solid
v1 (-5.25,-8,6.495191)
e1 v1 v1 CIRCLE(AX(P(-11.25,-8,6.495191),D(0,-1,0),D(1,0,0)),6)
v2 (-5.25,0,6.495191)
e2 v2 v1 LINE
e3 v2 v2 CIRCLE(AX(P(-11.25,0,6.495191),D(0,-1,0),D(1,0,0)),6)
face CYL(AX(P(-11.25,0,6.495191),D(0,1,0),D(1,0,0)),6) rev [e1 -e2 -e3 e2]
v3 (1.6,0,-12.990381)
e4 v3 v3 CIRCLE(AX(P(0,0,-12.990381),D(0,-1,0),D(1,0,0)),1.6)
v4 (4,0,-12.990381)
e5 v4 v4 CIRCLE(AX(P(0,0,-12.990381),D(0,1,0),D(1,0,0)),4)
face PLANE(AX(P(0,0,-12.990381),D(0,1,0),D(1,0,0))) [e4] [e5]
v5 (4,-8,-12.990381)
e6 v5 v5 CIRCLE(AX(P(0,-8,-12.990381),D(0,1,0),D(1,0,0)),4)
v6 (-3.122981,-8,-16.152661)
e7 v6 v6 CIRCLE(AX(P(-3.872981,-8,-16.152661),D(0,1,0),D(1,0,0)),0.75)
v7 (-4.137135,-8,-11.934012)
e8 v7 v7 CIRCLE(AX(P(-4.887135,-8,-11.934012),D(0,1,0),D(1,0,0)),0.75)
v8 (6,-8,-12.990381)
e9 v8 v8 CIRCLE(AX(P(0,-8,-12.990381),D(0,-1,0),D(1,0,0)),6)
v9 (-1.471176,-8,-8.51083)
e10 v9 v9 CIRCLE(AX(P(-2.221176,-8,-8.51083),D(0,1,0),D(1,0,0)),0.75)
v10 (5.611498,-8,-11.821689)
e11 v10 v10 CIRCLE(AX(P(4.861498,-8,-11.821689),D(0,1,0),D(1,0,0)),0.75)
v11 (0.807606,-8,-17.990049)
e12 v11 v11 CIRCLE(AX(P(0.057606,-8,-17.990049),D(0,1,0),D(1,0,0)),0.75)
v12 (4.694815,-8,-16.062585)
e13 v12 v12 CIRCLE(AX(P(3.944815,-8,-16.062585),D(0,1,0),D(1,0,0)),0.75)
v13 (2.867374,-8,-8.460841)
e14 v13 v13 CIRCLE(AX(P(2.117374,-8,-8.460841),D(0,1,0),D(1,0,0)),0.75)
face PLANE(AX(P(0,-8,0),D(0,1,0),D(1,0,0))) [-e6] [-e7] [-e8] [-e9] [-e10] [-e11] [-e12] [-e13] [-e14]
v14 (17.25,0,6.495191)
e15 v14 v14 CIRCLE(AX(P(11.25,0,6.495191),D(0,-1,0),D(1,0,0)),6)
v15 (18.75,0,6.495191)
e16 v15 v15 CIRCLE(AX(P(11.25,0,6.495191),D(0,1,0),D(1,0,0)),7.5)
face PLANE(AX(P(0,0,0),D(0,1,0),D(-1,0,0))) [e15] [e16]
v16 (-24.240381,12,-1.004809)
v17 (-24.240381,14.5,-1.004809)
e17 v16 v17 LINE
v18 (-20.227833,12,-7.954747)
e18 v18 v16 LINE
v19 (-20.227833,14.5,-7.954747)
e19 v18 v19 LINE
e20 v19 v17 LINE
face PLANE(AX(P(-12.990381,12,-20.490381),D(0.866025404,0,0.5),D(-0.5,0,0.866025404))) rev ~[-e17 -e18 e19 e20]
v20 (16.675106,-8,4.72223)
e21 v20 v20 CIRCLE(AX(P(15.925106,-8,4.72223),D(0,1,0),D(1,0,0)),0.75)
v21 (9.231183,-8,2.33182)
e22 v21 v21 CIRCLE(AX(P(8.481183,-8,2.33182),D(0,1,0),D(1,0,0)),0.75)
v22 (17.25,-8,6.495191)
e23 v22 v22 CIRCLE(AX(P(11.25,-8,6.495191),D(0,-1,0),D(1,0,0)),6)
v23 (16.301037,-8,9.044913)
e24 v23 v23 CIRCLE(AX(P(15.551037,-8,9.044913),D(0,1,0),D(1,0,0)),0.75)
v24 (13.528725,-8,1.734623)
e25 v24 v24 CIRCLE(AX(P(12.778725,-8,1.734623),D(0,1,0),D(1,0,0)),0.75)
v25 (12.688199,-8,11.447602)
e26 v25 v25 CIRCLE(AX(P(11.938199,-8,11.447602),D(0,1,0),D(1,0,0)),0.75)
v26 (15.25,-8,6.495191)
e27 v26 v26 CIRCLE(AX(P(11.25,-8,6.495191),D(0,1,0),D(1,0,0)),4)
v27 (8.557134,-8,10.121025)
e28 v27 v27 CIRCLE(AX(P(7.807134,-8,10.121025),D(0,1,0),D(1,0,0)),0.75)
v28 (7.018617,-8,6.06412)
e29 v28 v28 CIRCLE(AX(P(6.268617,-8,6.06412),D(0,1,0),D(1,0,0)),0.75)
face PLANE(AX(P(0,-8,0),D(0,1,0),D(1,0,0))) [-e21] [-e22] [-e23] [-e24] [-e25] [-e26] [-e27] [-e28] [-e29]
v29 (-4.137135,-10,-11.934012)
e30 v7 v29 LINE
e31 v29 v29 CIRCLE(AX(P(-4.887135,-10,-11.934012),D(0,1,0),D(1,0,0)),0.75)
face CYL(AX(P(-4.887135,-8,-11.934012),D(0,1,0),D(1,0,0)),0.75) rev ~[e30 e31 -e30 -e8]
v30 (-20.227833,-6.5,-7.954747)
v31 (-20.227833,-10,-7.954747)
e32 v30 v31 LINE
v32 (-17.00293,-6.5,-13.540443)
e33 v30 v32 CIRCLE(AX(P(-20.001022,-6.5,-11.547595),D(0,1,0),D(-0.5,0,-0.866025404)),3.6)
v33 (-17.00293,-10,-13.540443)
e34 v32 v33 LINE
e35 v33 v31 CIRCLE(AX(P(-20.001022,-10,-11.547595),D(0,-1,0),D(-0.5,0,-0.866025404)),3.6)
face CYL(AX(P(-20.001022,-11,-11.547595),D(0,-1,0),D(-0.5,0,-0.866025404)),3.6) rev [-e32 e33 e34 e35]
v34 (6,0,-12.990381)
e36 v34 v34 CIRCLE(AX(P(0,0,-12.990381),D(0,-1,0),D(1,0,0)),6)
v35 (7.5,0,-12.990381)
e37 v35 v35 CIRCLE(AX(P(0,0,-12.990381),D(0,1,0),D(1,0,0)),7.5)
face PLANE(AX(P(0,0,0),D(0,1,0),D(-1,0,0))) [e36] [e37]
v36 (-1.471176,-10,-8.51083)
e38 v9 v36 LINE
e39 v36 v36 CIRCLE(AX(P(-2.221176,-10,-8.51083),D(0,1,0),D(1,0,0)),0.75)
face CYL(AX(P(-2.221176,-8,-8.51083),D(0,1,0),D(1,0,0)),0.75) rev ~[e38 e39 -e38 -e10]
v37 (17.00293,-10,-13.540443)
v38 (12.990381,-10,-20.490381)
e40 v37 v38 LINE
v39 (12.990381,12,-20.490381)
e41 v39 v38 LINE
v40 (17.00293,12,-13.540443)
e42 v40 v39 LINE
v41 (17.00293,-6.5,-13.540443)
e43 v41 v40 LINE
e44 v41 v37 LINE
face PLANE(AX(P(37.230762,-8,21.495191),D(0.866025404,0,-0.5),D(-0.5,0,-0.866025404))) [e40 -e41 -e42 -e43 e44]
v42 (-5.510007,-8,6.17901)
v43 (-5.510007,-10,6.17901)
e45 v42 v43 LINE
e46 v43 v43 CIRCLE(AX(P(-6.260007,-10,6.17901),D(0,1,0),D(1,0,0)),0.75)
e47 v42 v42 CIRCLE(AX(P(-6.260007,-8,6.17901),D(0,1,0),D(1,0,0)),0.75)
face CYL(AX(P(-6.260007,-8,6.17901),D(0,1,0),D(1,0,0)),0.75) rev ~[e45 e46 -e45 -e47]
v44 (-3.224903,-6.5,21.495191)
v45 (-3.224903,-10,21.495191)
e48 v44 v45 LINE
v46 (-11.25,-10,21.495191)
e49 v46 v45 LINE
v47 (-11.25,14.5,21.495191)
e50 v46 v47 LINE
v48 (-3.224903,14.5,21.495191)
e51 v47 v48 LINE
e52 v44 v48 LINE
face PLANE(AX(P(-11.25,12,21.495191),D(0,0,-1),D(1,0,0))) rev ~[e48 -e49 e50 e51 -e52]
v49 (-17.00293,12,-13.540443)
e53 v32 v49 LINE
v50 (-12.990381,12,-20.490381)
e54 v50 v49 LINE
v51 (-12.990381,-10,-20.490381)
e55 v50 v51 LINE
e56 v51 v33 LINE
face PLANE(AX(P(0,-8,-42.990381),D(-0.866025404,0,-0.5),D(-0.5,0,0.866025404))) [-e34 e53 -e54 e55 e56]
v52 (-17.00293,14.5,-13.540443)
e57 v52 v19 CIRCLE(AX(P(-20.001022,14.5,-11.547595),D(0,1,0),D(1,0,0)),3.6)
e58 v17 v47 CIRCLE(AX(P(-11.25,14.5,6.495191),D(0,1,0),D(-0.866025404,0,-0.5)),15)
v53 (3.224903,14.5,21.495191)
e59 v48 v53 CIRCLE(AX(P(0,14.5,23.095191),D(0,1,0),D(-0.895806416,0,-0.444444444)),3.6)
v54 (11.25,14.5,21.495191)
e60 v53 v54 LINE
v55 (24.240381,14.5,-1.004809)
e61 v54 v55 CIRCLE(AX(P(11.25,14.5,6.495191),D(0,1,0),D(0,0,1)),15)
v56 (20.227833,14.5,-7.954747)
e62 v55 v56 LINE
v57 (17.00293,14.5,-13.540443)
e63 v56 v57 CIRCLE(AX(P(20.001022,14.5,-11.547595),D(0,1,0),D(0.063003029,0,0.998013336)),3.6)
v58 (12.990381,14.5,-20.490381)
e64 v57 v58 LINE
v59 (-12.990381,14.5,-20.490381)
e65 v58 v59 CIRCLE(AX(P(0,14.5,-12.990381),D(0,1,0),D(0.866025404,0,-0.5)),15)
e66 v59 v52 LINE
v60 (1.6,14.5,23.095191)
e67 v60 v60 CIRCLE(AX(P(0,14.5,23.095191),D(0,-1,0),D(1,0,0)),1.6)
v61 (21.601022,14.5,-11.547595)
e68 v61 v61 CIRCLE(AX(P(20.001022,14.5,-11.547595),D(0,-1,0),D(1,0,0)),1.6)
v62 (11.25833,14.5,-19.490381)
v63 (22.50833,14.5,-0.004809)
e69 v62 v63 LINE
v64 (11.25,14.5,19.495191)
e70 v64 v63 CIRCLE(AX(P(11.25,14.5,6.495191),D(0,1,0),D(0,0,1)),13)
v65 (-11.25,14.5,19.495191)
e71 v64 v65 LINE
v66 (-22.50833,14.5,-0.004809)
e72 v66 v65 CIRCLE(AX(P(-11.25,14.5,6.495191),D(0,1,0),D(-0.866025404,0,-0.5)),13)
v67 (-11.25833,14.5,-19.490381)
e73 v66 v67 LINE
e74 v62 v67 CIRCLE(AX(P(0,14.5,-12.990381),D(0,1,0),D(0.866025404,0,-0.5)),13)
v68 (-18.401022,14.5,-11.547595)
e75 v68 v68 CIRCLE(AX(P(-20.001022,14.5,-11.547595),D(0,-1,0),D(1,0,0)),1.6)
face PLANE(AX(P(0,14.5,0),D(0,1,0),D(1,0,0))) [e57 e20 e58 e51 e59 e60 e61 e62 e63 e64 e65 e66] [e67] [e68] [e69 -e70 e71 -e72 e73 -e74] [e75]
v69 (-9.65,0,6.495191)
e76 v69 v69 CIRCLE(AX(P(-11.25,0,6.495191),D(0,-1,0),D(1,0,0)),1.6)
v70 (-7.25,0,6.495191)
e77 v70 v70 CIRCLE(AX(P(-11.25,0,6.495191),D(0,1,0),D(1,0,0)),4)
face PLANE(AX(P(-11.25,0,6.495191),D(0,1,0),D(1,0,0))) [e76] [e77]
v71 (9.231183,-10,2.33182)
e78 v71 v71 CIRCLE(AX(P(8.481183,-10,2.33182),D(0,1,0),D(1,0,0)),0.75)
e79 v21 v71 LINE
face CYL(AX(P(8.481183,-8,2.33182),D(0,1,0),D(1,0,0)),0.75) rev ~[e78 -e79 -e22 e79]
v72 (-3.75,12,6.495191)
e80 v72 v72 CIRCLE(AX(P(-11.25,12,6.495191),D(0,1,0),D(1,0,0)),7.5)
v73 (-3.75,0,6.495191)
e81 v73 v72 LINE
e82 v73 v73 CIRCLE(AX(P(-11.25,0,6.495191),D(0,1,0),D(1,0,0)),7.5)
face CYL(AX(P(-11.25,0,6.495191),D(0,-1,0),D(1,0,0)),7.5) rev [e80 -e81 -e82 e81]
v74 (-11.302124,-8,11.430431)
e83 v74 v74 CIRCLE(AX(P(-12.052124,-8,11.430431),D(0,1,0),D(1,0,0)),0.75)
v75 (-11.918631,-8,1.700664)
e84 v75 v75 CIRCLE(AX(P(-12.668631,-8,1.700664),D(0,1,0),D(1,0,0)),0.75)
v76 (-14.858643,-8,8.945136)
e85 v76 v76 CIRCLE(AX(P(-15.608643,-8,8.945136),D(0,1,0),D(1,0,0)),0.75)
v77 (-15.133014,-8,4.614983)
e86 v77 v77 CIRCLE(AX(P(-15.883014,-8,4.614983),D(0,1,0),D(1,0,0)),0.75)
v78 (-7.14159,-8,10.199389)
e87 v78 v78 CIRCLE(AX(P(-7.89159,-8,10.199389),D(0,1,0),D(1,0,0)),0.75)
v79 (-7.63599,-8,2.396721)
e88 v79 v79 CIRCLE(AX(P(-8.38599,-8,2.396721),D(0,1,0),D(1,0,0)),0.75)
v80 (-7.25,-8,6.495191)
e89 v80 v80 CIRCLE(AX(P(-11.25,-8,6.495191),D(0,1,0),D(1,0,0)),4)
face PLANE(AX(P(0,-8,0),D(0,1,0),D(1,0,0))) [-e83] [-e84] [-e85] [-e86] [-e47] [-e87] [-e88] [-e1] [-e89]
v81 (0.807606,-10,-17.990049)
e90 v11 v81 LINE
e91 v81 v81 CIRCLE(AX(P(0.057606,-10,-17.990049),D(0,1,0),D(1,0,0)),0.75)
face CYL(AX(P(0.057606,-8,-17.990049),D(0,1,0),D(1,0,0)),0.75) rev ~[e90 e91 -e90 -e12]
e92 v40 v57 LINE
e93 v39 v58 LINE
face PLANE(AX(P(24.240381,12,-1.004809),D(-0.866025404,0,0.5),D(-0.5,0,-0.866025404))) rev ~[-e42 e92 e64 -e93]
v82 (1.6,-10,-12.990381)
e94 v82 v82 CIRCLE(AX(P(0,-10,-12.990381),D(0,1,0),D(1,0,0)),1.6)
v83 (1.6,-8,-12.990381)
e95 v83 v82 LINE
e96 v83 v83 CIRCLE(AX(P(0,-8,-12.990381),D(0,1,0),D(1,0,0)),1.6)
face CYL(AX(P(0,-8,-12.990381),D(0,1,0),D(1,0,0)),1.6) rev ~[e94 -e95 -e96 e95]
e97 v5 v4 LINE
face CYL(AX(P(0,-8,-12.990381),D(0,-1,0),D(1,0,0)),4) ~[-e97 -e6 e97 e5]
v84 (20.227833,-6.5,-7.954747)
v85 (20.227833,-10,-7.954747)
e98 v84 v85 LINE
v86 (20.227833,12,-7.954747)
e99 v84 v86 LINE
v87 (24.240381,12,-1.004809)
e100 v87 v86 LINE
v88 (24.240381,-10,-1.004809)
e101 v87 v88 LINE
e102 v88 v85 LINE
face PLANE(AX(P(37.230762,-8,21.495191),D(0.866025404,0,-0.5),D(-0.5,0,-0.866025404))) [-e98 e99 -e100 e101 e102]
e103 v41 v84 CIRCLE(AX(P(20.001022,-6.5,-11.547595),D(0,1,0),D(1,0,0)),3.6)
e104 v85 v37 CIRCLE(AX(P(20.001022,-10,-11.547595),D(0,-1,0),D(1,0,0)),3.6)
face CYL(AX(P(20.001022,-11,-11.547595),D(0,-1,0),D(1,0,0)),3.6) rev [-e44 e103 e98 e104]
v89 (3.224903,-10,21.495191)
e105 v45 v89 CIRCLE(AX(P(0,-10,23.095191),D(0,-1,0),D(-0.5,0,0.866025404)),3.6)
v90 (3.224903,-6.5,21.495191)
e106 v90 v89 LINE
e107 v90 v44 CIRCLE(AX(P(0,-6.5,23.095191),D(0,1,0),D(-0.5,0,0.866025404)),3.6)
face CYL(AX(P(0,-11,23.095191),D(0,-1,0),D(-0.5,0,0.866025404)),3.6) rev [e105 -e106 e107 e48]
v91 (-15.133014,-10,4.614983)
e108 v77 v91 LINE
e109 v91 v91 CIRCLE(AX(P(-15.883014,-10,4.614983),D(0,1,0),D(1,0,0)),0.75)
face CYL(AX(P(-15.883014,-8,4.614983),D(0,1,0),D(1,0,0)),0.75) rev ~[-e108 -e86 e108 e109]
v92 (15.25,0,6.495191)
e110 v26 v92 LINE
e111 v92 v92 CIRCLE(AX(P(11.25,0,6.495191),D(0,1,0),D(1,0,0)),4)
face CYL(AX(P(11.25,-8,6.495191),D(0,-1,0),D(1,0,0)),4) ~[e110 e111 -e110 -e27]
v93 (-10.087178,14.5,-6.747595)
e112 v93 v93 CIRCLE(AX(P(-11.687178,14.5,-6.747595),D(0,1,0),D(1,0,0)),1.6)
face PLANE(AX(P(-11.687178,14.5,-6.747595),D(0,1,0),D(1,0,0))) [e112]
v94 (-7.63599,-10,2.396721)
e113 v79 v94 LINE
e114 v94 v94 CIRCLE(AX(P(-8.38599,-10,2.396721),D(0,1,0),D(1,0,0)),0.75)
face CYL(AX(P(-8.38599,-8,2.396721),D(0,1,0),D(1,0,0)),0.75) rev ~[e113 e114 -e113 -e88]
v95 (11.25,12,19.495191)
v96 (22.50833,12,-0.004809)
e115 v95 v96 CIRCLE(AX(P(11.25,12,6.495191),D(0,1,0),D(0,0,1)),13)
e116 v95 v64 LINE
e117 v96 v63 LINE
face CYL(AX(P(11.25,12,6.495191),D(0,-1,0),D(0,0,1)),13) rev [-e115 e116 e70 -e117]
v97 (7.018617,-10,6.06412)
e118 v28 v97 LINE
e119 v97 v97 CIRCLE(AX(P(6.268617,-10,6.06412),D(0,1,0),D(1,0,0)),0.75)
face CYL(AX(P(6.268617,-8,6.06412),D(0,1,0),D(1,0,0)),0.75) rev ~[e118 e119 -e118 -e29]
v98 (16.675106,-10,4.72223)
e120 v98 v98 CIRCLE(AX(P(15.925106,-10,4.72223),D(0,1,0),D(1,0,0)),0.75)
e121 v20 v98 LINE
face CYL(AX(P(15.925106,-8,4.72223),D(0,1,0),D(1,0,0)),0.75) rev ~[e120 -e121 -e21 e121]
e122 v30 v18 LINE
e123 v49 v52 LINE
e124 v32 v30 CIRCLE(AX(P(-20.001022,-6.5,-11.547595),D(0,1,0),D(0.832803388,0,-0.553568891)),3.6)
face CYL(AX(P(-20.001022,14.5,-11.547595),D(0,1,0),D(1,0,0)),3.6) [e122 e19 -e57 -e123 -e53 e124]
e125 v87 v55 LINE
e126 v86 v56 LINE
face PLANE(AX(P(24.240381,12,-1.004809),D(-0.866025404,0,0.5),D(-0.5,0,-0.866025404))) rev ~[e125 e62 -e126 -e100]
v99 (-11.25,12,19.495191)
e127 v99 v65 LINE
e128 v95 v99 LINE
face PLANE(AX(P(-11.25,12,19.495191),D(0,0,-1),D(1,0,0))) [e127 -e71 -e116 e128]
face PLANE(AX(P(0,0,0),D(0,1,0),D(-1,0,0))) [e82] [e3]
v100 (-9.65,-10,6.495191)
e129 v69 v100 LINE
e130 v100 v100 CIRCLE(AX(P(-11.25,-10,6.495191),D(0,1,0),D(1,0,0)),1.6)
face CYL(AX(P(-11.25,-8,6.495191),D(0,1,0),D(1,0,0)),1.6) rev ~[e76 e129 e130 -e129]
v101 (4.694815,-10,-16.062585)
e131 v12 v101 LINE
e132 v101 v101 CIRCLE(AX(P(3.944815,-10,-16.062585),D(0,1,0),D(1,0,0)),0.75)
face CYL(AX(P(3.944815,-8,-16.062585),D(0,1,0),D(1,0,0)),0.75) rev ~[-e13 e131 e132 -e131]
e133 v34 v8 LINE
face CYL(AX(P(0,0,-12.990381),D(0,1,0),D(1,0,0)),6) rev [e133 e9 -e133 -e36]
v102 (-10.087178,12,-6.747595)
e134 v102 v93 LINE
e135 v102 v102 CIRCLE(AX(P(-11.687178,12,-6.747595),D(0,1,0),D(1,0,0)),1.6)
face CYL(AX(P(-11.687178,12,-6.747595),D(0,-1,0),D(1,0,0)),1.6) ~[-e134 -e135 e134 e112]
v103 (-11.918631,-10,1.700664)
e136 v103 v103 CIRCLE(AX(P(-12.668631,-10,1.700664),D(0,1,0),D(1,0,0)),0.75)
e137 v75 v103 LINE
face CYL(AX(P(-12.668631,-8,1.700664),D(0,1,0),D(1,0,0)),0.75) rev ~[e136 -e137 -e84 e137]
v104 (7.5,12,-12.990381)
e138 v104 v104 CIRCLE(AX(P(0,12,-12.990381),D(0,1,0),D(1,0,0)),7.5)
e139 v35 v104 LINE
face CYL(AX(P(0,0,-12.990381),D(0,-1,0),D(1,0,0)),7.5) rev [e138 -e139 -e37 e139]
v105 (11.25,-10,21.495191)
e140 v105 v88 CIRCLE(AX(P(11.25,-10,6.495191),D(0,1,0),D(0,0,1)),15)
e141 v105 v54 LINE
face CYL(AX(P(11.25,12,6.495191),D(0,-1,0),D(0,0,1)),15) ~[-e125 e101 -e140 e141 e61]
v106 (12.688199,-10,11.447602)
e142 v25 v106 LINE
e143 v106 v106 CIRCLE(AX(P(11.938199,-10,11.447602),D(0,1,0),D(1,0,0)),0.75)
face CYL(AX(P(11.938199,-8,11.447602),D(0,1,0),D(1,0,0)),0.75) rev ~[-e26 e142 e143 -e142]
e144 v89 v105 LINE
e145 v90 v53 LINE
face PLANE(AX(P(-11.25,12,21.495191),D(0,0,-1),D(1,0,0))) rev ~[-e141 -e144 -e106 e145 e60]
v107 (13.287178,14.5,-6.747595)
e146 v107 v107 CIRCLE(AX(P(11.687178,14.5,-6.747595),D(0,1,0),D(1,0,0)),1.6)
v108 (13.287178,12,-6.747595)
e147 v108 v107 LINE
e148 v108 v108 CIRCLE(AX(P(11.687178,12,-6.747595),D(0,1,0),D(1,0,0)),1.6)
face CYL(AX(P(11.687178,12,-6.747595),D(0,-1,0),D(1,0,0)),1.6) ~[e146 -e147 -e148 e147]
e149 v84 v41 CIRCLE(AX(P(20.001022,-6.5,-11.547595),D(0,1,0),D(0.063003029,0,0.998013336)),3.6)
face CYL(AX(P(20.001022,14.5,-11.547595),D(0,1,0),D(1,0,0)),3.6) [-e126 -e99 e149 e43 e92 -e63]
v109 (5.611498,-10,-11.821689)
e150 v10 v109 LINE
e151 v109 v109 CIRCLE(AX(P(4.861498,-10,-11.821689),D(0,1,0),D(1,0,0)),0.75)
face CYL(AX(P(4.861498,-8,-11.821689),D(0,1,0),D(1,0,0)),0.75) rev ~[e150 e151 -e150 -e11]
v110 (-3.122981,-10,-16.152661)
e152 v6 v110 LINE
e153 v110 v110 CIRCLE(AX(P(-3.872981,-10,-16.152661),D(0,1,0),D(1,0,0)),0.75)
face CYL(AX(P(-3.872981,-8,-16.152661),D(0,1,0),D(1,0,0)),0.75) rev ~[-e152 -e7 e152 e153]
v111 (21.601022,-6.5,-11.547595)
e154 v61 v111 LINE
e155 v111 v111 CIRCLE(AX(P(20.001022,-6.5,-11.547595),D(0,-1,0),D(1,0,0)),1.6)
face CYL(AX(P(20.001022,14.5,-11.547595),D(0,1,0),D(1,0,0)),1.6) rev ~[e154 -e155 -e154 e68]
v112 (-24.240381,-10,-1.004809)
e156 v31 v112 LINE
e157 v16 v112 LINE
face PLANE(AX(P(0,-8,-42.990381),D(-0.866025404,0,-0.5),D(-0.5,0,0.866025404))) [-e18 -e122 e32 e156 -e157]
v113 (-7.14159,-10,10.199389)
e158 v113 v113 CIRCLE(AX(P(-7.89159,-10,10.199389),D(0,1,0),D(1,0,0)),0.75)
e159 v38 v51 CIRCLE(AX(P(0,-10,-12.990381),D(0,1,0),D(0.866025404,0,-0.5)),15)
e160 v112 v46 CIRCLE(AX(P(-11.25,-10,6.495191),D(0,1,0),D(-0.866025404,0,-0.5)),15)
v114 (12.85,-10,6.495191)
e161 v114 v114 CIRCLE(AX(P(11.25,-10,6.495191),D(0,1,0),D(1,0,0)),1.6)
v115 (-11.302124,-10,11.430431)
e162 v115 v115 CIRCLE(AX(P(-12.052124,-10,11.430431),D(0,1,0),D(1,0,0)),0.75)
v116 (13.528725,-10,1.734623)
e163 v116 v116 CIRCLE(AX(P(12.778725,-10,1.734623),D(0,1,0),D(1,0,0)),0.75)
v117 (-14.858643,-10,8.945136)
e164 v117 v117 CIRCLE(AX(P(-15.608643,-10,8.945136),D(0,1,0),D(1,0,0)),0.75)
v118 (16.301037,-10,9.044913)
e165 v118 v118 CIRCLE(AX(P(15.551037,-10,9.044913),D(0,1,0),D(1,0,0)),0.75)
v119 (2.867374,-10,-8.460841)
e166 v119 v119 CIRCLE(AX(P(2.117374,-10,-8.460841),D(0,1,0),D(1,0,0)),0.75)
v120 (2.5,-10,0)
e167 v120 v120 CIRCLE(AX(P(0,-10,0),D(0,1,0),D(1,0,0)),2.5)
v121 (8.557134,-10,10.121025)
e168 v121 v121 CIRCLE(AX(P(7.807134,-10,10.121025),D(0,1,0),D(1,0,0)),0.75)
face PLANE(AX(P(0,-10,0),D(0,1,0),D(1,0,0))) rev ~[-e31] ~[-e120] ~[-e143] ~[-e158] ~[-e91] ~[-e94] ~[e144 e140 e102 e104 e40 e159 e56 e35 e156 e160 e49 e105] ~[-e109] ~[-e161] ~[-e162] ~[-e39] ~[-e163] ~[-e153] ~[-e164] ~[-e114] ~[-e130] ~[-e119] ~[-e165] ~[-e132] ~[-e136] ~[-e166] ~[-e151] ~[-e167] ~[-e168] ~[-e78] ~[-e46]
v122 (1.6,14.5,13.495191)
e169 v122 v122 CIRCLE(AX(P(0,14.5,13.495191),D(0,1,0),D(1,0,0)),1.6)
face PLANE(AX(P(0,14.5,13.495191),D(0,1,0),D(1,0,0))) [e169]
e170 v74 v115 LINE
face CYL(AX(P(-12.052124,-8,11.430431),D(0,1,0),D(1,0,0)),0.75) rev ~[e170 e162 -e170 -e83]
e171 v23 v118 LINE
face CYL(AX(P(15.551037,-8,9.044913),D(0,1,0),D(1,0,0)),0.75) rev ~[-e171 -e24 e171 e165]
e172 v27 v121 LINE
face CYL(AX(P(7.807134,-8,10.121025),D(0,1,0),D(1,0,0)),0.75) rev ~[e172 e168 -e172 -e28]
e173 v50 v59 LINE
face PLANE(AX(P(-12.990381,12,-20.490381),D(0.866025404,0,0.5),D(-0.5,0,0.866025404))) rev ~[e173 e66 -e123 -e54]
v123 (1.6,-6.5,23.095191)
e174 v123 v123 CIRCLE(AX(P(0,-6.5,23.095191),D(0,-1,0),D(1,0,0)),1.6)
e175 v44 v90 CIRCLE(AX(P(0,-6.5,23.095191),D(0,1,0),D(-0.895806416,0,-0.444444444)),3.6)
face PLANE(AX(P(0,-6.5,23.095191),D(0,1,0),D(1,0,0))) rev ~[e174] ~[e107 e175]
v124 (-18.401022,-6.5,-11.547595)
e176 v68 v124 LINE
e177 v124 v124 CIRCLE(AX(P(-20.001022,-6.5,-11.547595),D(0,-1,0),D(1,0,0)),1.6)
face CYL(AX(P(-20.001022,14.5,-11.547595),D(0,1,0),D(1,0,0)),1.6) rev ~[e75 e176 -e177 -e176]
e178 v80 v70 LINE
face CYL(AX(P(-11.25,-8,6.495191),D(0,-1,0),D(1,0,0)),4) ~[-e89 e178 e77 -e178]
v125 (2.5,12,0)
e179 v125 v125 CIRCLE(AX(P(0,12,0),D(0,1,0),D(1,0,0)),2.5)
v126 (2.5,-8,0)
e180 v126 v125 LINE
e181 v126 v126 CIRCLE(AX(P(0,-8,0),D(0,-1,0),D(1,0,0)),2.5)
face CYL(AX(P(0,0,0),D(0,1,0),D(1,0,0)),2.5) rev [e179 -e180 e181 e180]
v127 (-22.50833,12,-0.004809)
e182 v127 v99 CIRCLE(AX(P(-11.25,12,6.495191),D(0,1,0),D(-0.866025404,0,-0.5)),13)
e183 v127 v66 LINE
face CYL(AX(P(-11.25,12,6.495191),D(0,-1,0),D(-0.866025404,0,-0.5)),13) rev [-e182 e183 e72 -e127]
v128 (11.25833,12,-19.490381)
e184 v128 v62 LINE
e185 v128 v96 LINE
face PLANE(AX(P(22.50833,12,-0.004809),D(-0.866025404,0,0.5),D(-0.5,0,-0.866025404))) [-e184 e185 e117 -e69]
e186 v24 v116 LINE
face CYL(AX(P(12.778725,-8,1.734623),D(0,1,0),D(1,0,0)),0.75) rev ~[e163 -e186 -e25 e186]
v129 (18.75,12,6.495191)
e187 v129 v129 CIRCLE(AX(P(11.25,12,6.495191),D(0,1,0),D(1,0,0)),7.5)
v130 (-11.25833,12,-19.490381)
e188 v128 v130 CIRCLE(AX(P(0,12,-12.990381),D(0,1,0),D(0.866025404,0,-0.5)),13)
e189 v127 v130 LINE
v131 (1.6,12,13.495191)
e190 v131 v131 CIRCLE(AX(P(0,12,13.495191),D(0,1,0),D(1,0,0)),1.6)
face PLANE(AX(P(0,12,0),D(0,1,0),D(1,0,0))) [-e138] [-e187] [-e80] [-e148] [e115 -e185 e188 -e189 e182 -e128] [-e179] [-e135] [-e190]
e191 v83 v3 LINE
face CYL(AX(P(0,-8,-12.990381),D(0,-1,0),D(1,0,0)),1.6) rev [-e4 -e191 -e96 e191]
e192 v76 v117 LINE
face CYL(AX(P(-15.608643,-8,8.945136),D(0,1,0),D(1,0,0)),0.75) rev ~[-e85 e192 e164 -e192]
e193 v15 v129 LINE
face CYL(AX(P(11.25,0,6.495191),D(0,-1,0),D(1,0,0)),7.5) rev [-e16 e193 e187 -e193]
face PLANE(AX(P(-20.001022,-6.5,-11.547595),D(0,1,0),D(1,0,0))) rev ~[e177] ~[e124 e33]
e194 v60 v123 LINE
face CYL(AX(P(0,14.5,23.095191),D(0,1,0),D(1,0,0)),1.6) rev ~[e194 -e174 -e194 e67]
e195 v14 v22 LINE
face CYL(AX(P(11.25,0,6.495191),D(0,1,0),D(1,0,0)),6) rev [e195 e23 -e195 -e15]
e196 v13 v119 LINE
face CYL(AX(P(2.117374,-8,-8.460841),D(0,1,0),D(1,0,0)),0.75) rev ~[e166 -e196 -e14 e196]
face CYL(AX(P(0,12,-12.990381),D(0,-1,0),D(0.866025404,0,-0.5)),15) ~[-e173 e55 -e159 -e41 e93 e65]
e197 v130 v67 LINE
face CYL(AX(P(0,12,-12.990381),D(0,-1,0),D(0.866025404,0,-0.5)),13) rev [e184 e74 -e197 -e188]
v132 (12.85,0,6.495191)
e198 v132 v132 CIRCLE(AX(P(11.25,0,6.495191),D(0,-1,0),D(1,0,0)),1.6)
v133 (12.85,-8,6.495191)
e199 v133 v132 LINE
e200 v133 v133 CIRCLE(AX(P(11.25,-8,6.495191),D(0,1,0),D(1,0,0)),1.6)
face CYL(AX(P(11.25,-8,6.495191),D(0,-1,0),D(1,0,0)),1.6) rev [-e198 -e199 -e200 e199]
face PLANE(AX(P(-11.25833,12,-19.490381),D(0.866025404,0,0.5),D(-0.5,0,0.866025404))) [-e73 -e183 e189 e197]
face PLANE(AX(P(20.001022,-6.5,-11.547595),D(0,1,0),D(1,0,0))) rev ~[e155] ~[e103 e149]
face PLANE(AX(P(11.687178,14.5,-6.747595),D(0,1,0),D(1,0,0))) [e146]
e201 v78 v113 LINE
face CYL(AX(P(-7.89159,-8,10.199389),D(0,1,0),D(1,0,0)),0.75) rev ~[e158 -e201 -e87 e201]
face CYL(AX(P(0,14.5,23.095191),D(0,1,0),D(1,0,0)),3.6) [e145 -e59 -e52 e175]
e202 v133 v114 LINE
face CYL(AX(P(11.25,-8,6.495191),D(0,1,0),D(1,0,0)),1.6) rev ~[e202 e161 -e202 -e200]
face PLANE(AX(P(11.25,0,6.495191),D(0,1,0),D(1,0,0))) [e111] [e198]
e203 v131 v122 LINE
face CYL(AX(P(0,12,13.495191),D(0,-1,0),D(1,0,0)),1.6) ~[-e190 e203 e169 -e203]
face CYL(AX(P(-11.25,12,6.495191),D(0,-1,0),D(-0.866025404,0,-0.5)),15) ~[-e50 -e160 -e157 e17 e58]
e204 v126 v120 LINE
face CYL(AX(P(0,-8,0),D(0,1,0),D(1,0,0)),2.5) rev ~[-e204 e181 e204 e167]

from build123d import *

# Parameters (mm, degrees)
SKETCH2_R               = 7.5
SKETCH2_R_2             = 2.5
BOSS_EXTRUDE1_DEPTH     = 12
SKETCH4_R               = 6
SKETCH4_R_2             = 2.5
BOSS_EXTRUDE2_DEPTH     = 8
SKETCH7_R               = 4
BOSS_EXTRUDE3_DEPTH     = 8
BOSS_EXTRUDE3_2_DEPTH   = 8
BOSS_EXTRUDE3_3_DEPTH   = 8
BOSS_EXTRUDE4_DEPTH     = 2
SKETCH10_R              = 0.75
SKETCH10_R_2            = 2.5
CUT_EXTRUDE2_DEPTH      = 21
CUT_EXTRUDE2_DEPTH_BACK = 3
SKETCH12_R              = 57.284308747
CUT_EXTRUDE3_DEPTH      = 1
CUT_EXTRUDE3_DEPTH_BACK = 23
SKETCH15_R              = 1.6
CUT_EXTRUDE4_DEPTH      = 21
CUT_EXTRUDE4_DEPTH_BACK = 3
SKETCH13_R              = 1.6
BOSS_EXTRUDE5_DEPTH     = 2.5
SKETCH16_R              = 3.6
SKETCH16_R_2            = 1.6
BOSS_EXTRUDE6_DEPTH     = 21
CUT_EXTRUDE10_START     = -1
SKETCH19_R              = 3.6
SKETCH19_R_2            = 1.6
CUT_EXTRUDE10_DEPTH     = 4.5
CIRPATTERN1_COUNT       = 3


with BuildPart() as part:
    # Sketch2 → Boss-Extrude1 (new body)
    with BuildSketch(Plane(origin=(0, 0, 0), x_dir=(1, 0, 0), z_dir=(0, 1, 0))):
        Polygon((-37.230762114, -21.495190528), (37.230762114, -21.495190528), (0, 42.990381057), align=None)
        with Locations((0, 12.990381057)):
            Circle(SKETCH2_R, mode=Mode.SUBTRACT)
        with Locations((-11.25, -6.495190528)):
            Circle(SKETCH2_R, mode=Mode.SUBTRACT)
        with Locations((11.25, -6.495190528)):
            Circle(SKETCH2_R, mode=Mode.SUBTRACT)
        Circle(SKETCH2_R_2, mode=Mode.SUBTRACT)
    extrude(amount=BOSS_EXTRUDE1_DEPTH)

    # Sketch4 → Boss-Extrude2 (add)
    with BuildSketch(Plane.XZ):
        Polygon((-37.230762114, 21.495190528), (37.230762114, 21.495190528), (0, -42.990381057), align=None)
        with Locations((-11.25, 6.495190528)):
            Circle(SKETCH4_R, mode=Mode.SUBTRACT)
        with Locations((11.25, 6.495190528)):
            Circle(SKETCH4_R, mode=Mode.SUBTRACT)
        with Locations((0, -12.990381057)):
            Circle(SKETCH4_R, mode=Mode.SUBTRACT)
        Circle(SKETCH4_R_2, mode=Mode.SUBTRACT)
    extrude(amount=BOSS_EXTRUDE2_DEPTH)



with BuildPart() as body_2:
    # Sketch7 → Boss-Extrude3 (new body)
    with BuildSketch(Plane(origin=(0, -8, 0), x_dir=(1, 0, 0), z_dir=(0, 1, 0))):
        with Locations((0, 12.990381057)):
            Circle(SKETCH7_R)
    extrude(amount=BOSS_EXTRUDE3_DEPTH)


with BuildPart() as body_3:
    # Sketch7 → Boss-Extrude3 2 (new body)
    with BuildSketch(Plane(origin=(0, -8, 0), x_dir=(1, 0, 0), z_dir=(0, 1, 0))):
        with Locations((-11.25, -6.495190528)):
            Circle(SKETCH7_R)
    extrude(amount=BOSS_EXTRUDE3_2_DEPTH)


with BuildPart() as body_4:
    # Sketch7 → Boss-Extrude3 3 (new body)
    with BuildSketch(Plane(origin=(0, -8, 0), x_dir=(1, 0, 0), z_dir=(0, 1, 0))):
        with Locations((11.25, -6.495190528)):
            Circle(SKETCH7_R)
    extrude(amount=BOSS_EXTRUDE3_3_DEPTH)


with BuildPart() as part_1:
    add(part.part)

    add(body_2.part)  # Boss-Extrude4 merges body 2

    add(body_3.part)  # Boss-Extrude4 merges body 3

    add(body_4.part)  # Boss-Extrude4 merges body 4
    # Sketch9 → Boss-Extrude4 (add)
    with BuildSketch(Plane(origin=(0, -8, 0), x_dir=(1, 0, 0), z_dir=(0, 1, 0))):
        Polygon((0, 42.990381057), (-37.230762114, -21.495190528), (37.230762114, -21.495190528), align=None)
    extrude(amount=-BOSS_EXTRUDE4_DEPTH)

    # Sketch10 → Cut-Extrude2 (cut, two sides)
    with BuildSketch(Plane(origin=(0, -8, 0), x_dir=(1, 0, 0), z_dir=(0, 1, 0))) as cut_extrude2_sk:
        with Locations((-8.385990432, -2.3967214)):
            Circle(SKETCH10_R)
        with Locations((-12.668631437, -1.700663978)):
            Circle(SKETCH10_R)
        with Locations((-6.260007048, -6.17900967)):
            Circle(SKETCH10_R)
        with Locations((-7.891590133, -10.199388575)):
            Circle(SKETCH10_R)
        with Locations((-12.052124348, -11.430430799)):
            Circle(SKETCH10_R)
        with Locations((-15.608642568, -8.945136439)):
            Circle(SKETCH10_R)
        with Locations((-15.883014034, -4.614982838)):
            Circle(SKETCH10_R)
        with Locations((2.117373598, 8.46084145)):
            Circle(SKETCH10_R)
        with Locations((4.86149751, 11.821688644)):
            Circle(SKETCH10_R)
        with Locations((-2.22117582, 8.510829966)):
            Circle(SKETCH10_R)
        with Locations((-4.887134542, 11.934011819)):
            Circle(SKETCH10_R)
        with Locations((-3.872981274, 16.152661254)):
            Circle(SKETCH10_R)
        with Locations((0.057605887, 17.990049202)):
            Circle(SKETCH10_R)
        with Locations((3.944814641, 16.062585062)):
            Circle(SKETCH10_R)
        with Locations((6.268616834, -6.06412005)):
            Circle(SKETCH10_R)
        with Locations((7.807133926, -10.121024667)):
            Circle(SKETCH10_R)
        with Locations((8.481182868, -2.331820296)):
            Circle(SKETCH10_R)
        with Locations((12.778724676, -1.734623244)):
            Circle(SKETCH10_R)
        with Locations((15.925105622, -4.722230455)):
            Circle(SKETCH10_R)
        with Locations((15.55103668, -9.044912763)):
            Circle(SKETCH10_R)
        with Locations((11.938199393, -11.447602223)):
            Circle(SKETCH10_R)
        Circle(SKETCH10_R_2)
    extrude(amount=CUT_EXTRUDE2_DEPTH, mode=Mode.SUBTRACT)
    extrude(cut_extrude2_sk.sketch, amount=-CUT_EXTRUDE2_DEPTH_BACK, mode=Mode.SUBTRACT)

    # Sketch12 → Cut-Extrude3 (cut, two sides)
    with BuildSketch(Plane(origin=(0, 12, 0), x_dir=(1, 0, 0), z_dir=(0, 1, 0))) as cut_extrude3_sk:
        Circle(SKETCH12_R)
        with BuildLine():
            Line((-12.990381057, 20.490381057), (-24.240381057, 1.004809472))
            ThreePointArc((-24.240381057, 1.004809472), (-24.240381057, -13.995190528), (-11.25, -21.495190528))
            Line((-11.25, -21.495190528), (11.25, -21.495190528))
            ThreePointArc((11.25, -21.495190528), (24.240381057, -13.995190528), (24.240381057, 1.004809472))
            Line((24.240381057, 1.004809472), (12.990381057, 20.490381057))
            ThreePointArc((12.990381057, 20.490381057), (0, 27.990381057), (-12.990381057, 20.490381057))
        make_face(mode=Mode.SUBTRACT)
    extrude(amount=CUT_EXTRUDE3_DEPTH, mode=Mode.SUBTRACT)
    extrude(cut_extrude3_sk.sketch, amount=-CUT_EXTRUDE3_DEPTH_BACK, mode=Mode.SUBTRACT)

    # Sketch15 → Cut-Extrude4 (cut, two sides)
    with BuildSketch(Plane(origin=(0, -8, 0), x_dir=(1, 0, 0), z_dir=(0, 1, 0))) as cut_extrude4_sk:
        with Locations((0, 12.990381057)):
            Circle(SKETCH15_R)
        with Locations((-11.25, -6.495190528)):
            Circle(SKETCH15_R)
        with Locations((11.25, -6.495190528)):
            Circle(SKETCH15_R)
    extrude(amount=CUT_EXTRUDE4_DEPTH, mode=Mode.SUBTRACT)
    extrude(cut_extrude4_sk.sketch, amount=-CUT_EXTRUDE4_DEPTH_BACK, mode=Mode.SUBTRACT)

    # Sketch13 → Boss-Extrude5 (add)
    with BuildSketch(Plane(origin=(0, 12, 0), x_dir=(1, 0, 0), z_dir=(0, 1, 0))):
        with BuildLine():
            Line((-12.990381057, 20.490381057), (-24.240381057, 1.004809472))
            ThreePointArc((-24.240381057, 1.004809472), (-24.240381057, -13.995190528), (-11.25, -21.495190528))
            Line((-11.25, -21.495190528), (11.25, -21.495190528))
            ThreePointArc((11.25, -21.495190528), (24.240381057, -13.995190528), (24.240381057, 1.004809472))
            Line((24.240381057, 1.004809472), (12.990381057, 20.490381057))
            ThreePointArc((12.990381057, 20.490381057), (0, 27.990381057), (-12.990381057, 20.490381057))
        make_face()
        with BuildLine():
            ThreePointArc((11.258330249, 19.490381057), (0, 25.990381057), (-11.258330249, 19.490381057))
            Line((-11.258330249, 19.490381057), (-22.508330249, 0.004809472))
            ThreePointArc((-22.508330249, 0.004809472), (-22.508330249, -12.995190528), (-11.25, -19.495190528))
            Line((-11.25, -19.495190528), (11.25, -19.495190528))
            ThreePointArc((11.25, -19.495190528), (22.508330249, -12.995190528), (22.508330249, 0.004809472))
            Line((22.508330249, 0.004809472), (11.258330249, 19.490381057))
        make_face(mode=Mode.SUBTRACT)
        with Locations((0, -13.495190528)):
            Circle(SKETCH13_R)
        with Locations((11.687177826, 6.747595264)):
            Circle(SKETCH13_R)
        with Locations((-11.687177826, 6.747595264)):
            Circle(SKETCH13_R)
    extrude(amount=BOSS_EXTRUDE5_DEPTH)

    # Sketch16 → Boss-Extrude6 (add)
    with BuildSketch(Plane(origin=(0, 14.5, 0), x_dir=(1, 0, 0), z_dir=(0, 1, 0))):
        with Locations((-20.001021703, 11.547595264)):
            Circle(SKETCH16_R)
        with Locations((-20.001021703, 11.547595264)):
            Circle(SKETCH16_R_2, mode=Mode.SUBTRACT)
        with Locations((20.001021703, 11.547595264)):
            Circle(SKETCH16_R)
        with Locations((20.001021703, 11.547595264)):
            Circle(SKETCH16_R_2, mode=Mode.SUBTRACT)
        with Locations((0, -23.095190528)):
            Circle(SKETCH16_R)
        with Locations((0, -23.095190528)):
            Circle(SKETCH16_R_2, mode=Mode.SUBTRACT)
    extrude(amount=-BOSS_EXTRUDE6_DEPTH)

    # Sketch19 → Cut-Extrude10 (cut)
    with BuildSketch(Plane(origin=(0, -10, 0), x_dir=(1, 0, 0), z_dir=(0, 1, 0)).offset(CUT_EXTRUDE10_START)):
        with Locations((20.001021703, 11.547595264)):
            Circle(SKETCH19_R)
        with Locations((20.001021703, 11.547595264)):
            Circle(SKETCH19_R_2, mode=Mode.SUBTRACT)
    cut_extrude10 = extrude(amount=CUT_EXTRUDE10_DEPTH, mode=Mode.SUBTRACT)

    # CirPattern1: Cut-Extrude10 ×3 about axis
    cirpattern1_axis = Axis((0, 0, 0), (0, 1, 0))
    for i in range(1, CIRPATTERN1_COUNT):
        add(cut_extrude10.rotate(cirpattern1_axis, i * 360 / CIRPATTERN1_COUNT), mode=Mode.SUBTRACT)


solid = part_1.part
